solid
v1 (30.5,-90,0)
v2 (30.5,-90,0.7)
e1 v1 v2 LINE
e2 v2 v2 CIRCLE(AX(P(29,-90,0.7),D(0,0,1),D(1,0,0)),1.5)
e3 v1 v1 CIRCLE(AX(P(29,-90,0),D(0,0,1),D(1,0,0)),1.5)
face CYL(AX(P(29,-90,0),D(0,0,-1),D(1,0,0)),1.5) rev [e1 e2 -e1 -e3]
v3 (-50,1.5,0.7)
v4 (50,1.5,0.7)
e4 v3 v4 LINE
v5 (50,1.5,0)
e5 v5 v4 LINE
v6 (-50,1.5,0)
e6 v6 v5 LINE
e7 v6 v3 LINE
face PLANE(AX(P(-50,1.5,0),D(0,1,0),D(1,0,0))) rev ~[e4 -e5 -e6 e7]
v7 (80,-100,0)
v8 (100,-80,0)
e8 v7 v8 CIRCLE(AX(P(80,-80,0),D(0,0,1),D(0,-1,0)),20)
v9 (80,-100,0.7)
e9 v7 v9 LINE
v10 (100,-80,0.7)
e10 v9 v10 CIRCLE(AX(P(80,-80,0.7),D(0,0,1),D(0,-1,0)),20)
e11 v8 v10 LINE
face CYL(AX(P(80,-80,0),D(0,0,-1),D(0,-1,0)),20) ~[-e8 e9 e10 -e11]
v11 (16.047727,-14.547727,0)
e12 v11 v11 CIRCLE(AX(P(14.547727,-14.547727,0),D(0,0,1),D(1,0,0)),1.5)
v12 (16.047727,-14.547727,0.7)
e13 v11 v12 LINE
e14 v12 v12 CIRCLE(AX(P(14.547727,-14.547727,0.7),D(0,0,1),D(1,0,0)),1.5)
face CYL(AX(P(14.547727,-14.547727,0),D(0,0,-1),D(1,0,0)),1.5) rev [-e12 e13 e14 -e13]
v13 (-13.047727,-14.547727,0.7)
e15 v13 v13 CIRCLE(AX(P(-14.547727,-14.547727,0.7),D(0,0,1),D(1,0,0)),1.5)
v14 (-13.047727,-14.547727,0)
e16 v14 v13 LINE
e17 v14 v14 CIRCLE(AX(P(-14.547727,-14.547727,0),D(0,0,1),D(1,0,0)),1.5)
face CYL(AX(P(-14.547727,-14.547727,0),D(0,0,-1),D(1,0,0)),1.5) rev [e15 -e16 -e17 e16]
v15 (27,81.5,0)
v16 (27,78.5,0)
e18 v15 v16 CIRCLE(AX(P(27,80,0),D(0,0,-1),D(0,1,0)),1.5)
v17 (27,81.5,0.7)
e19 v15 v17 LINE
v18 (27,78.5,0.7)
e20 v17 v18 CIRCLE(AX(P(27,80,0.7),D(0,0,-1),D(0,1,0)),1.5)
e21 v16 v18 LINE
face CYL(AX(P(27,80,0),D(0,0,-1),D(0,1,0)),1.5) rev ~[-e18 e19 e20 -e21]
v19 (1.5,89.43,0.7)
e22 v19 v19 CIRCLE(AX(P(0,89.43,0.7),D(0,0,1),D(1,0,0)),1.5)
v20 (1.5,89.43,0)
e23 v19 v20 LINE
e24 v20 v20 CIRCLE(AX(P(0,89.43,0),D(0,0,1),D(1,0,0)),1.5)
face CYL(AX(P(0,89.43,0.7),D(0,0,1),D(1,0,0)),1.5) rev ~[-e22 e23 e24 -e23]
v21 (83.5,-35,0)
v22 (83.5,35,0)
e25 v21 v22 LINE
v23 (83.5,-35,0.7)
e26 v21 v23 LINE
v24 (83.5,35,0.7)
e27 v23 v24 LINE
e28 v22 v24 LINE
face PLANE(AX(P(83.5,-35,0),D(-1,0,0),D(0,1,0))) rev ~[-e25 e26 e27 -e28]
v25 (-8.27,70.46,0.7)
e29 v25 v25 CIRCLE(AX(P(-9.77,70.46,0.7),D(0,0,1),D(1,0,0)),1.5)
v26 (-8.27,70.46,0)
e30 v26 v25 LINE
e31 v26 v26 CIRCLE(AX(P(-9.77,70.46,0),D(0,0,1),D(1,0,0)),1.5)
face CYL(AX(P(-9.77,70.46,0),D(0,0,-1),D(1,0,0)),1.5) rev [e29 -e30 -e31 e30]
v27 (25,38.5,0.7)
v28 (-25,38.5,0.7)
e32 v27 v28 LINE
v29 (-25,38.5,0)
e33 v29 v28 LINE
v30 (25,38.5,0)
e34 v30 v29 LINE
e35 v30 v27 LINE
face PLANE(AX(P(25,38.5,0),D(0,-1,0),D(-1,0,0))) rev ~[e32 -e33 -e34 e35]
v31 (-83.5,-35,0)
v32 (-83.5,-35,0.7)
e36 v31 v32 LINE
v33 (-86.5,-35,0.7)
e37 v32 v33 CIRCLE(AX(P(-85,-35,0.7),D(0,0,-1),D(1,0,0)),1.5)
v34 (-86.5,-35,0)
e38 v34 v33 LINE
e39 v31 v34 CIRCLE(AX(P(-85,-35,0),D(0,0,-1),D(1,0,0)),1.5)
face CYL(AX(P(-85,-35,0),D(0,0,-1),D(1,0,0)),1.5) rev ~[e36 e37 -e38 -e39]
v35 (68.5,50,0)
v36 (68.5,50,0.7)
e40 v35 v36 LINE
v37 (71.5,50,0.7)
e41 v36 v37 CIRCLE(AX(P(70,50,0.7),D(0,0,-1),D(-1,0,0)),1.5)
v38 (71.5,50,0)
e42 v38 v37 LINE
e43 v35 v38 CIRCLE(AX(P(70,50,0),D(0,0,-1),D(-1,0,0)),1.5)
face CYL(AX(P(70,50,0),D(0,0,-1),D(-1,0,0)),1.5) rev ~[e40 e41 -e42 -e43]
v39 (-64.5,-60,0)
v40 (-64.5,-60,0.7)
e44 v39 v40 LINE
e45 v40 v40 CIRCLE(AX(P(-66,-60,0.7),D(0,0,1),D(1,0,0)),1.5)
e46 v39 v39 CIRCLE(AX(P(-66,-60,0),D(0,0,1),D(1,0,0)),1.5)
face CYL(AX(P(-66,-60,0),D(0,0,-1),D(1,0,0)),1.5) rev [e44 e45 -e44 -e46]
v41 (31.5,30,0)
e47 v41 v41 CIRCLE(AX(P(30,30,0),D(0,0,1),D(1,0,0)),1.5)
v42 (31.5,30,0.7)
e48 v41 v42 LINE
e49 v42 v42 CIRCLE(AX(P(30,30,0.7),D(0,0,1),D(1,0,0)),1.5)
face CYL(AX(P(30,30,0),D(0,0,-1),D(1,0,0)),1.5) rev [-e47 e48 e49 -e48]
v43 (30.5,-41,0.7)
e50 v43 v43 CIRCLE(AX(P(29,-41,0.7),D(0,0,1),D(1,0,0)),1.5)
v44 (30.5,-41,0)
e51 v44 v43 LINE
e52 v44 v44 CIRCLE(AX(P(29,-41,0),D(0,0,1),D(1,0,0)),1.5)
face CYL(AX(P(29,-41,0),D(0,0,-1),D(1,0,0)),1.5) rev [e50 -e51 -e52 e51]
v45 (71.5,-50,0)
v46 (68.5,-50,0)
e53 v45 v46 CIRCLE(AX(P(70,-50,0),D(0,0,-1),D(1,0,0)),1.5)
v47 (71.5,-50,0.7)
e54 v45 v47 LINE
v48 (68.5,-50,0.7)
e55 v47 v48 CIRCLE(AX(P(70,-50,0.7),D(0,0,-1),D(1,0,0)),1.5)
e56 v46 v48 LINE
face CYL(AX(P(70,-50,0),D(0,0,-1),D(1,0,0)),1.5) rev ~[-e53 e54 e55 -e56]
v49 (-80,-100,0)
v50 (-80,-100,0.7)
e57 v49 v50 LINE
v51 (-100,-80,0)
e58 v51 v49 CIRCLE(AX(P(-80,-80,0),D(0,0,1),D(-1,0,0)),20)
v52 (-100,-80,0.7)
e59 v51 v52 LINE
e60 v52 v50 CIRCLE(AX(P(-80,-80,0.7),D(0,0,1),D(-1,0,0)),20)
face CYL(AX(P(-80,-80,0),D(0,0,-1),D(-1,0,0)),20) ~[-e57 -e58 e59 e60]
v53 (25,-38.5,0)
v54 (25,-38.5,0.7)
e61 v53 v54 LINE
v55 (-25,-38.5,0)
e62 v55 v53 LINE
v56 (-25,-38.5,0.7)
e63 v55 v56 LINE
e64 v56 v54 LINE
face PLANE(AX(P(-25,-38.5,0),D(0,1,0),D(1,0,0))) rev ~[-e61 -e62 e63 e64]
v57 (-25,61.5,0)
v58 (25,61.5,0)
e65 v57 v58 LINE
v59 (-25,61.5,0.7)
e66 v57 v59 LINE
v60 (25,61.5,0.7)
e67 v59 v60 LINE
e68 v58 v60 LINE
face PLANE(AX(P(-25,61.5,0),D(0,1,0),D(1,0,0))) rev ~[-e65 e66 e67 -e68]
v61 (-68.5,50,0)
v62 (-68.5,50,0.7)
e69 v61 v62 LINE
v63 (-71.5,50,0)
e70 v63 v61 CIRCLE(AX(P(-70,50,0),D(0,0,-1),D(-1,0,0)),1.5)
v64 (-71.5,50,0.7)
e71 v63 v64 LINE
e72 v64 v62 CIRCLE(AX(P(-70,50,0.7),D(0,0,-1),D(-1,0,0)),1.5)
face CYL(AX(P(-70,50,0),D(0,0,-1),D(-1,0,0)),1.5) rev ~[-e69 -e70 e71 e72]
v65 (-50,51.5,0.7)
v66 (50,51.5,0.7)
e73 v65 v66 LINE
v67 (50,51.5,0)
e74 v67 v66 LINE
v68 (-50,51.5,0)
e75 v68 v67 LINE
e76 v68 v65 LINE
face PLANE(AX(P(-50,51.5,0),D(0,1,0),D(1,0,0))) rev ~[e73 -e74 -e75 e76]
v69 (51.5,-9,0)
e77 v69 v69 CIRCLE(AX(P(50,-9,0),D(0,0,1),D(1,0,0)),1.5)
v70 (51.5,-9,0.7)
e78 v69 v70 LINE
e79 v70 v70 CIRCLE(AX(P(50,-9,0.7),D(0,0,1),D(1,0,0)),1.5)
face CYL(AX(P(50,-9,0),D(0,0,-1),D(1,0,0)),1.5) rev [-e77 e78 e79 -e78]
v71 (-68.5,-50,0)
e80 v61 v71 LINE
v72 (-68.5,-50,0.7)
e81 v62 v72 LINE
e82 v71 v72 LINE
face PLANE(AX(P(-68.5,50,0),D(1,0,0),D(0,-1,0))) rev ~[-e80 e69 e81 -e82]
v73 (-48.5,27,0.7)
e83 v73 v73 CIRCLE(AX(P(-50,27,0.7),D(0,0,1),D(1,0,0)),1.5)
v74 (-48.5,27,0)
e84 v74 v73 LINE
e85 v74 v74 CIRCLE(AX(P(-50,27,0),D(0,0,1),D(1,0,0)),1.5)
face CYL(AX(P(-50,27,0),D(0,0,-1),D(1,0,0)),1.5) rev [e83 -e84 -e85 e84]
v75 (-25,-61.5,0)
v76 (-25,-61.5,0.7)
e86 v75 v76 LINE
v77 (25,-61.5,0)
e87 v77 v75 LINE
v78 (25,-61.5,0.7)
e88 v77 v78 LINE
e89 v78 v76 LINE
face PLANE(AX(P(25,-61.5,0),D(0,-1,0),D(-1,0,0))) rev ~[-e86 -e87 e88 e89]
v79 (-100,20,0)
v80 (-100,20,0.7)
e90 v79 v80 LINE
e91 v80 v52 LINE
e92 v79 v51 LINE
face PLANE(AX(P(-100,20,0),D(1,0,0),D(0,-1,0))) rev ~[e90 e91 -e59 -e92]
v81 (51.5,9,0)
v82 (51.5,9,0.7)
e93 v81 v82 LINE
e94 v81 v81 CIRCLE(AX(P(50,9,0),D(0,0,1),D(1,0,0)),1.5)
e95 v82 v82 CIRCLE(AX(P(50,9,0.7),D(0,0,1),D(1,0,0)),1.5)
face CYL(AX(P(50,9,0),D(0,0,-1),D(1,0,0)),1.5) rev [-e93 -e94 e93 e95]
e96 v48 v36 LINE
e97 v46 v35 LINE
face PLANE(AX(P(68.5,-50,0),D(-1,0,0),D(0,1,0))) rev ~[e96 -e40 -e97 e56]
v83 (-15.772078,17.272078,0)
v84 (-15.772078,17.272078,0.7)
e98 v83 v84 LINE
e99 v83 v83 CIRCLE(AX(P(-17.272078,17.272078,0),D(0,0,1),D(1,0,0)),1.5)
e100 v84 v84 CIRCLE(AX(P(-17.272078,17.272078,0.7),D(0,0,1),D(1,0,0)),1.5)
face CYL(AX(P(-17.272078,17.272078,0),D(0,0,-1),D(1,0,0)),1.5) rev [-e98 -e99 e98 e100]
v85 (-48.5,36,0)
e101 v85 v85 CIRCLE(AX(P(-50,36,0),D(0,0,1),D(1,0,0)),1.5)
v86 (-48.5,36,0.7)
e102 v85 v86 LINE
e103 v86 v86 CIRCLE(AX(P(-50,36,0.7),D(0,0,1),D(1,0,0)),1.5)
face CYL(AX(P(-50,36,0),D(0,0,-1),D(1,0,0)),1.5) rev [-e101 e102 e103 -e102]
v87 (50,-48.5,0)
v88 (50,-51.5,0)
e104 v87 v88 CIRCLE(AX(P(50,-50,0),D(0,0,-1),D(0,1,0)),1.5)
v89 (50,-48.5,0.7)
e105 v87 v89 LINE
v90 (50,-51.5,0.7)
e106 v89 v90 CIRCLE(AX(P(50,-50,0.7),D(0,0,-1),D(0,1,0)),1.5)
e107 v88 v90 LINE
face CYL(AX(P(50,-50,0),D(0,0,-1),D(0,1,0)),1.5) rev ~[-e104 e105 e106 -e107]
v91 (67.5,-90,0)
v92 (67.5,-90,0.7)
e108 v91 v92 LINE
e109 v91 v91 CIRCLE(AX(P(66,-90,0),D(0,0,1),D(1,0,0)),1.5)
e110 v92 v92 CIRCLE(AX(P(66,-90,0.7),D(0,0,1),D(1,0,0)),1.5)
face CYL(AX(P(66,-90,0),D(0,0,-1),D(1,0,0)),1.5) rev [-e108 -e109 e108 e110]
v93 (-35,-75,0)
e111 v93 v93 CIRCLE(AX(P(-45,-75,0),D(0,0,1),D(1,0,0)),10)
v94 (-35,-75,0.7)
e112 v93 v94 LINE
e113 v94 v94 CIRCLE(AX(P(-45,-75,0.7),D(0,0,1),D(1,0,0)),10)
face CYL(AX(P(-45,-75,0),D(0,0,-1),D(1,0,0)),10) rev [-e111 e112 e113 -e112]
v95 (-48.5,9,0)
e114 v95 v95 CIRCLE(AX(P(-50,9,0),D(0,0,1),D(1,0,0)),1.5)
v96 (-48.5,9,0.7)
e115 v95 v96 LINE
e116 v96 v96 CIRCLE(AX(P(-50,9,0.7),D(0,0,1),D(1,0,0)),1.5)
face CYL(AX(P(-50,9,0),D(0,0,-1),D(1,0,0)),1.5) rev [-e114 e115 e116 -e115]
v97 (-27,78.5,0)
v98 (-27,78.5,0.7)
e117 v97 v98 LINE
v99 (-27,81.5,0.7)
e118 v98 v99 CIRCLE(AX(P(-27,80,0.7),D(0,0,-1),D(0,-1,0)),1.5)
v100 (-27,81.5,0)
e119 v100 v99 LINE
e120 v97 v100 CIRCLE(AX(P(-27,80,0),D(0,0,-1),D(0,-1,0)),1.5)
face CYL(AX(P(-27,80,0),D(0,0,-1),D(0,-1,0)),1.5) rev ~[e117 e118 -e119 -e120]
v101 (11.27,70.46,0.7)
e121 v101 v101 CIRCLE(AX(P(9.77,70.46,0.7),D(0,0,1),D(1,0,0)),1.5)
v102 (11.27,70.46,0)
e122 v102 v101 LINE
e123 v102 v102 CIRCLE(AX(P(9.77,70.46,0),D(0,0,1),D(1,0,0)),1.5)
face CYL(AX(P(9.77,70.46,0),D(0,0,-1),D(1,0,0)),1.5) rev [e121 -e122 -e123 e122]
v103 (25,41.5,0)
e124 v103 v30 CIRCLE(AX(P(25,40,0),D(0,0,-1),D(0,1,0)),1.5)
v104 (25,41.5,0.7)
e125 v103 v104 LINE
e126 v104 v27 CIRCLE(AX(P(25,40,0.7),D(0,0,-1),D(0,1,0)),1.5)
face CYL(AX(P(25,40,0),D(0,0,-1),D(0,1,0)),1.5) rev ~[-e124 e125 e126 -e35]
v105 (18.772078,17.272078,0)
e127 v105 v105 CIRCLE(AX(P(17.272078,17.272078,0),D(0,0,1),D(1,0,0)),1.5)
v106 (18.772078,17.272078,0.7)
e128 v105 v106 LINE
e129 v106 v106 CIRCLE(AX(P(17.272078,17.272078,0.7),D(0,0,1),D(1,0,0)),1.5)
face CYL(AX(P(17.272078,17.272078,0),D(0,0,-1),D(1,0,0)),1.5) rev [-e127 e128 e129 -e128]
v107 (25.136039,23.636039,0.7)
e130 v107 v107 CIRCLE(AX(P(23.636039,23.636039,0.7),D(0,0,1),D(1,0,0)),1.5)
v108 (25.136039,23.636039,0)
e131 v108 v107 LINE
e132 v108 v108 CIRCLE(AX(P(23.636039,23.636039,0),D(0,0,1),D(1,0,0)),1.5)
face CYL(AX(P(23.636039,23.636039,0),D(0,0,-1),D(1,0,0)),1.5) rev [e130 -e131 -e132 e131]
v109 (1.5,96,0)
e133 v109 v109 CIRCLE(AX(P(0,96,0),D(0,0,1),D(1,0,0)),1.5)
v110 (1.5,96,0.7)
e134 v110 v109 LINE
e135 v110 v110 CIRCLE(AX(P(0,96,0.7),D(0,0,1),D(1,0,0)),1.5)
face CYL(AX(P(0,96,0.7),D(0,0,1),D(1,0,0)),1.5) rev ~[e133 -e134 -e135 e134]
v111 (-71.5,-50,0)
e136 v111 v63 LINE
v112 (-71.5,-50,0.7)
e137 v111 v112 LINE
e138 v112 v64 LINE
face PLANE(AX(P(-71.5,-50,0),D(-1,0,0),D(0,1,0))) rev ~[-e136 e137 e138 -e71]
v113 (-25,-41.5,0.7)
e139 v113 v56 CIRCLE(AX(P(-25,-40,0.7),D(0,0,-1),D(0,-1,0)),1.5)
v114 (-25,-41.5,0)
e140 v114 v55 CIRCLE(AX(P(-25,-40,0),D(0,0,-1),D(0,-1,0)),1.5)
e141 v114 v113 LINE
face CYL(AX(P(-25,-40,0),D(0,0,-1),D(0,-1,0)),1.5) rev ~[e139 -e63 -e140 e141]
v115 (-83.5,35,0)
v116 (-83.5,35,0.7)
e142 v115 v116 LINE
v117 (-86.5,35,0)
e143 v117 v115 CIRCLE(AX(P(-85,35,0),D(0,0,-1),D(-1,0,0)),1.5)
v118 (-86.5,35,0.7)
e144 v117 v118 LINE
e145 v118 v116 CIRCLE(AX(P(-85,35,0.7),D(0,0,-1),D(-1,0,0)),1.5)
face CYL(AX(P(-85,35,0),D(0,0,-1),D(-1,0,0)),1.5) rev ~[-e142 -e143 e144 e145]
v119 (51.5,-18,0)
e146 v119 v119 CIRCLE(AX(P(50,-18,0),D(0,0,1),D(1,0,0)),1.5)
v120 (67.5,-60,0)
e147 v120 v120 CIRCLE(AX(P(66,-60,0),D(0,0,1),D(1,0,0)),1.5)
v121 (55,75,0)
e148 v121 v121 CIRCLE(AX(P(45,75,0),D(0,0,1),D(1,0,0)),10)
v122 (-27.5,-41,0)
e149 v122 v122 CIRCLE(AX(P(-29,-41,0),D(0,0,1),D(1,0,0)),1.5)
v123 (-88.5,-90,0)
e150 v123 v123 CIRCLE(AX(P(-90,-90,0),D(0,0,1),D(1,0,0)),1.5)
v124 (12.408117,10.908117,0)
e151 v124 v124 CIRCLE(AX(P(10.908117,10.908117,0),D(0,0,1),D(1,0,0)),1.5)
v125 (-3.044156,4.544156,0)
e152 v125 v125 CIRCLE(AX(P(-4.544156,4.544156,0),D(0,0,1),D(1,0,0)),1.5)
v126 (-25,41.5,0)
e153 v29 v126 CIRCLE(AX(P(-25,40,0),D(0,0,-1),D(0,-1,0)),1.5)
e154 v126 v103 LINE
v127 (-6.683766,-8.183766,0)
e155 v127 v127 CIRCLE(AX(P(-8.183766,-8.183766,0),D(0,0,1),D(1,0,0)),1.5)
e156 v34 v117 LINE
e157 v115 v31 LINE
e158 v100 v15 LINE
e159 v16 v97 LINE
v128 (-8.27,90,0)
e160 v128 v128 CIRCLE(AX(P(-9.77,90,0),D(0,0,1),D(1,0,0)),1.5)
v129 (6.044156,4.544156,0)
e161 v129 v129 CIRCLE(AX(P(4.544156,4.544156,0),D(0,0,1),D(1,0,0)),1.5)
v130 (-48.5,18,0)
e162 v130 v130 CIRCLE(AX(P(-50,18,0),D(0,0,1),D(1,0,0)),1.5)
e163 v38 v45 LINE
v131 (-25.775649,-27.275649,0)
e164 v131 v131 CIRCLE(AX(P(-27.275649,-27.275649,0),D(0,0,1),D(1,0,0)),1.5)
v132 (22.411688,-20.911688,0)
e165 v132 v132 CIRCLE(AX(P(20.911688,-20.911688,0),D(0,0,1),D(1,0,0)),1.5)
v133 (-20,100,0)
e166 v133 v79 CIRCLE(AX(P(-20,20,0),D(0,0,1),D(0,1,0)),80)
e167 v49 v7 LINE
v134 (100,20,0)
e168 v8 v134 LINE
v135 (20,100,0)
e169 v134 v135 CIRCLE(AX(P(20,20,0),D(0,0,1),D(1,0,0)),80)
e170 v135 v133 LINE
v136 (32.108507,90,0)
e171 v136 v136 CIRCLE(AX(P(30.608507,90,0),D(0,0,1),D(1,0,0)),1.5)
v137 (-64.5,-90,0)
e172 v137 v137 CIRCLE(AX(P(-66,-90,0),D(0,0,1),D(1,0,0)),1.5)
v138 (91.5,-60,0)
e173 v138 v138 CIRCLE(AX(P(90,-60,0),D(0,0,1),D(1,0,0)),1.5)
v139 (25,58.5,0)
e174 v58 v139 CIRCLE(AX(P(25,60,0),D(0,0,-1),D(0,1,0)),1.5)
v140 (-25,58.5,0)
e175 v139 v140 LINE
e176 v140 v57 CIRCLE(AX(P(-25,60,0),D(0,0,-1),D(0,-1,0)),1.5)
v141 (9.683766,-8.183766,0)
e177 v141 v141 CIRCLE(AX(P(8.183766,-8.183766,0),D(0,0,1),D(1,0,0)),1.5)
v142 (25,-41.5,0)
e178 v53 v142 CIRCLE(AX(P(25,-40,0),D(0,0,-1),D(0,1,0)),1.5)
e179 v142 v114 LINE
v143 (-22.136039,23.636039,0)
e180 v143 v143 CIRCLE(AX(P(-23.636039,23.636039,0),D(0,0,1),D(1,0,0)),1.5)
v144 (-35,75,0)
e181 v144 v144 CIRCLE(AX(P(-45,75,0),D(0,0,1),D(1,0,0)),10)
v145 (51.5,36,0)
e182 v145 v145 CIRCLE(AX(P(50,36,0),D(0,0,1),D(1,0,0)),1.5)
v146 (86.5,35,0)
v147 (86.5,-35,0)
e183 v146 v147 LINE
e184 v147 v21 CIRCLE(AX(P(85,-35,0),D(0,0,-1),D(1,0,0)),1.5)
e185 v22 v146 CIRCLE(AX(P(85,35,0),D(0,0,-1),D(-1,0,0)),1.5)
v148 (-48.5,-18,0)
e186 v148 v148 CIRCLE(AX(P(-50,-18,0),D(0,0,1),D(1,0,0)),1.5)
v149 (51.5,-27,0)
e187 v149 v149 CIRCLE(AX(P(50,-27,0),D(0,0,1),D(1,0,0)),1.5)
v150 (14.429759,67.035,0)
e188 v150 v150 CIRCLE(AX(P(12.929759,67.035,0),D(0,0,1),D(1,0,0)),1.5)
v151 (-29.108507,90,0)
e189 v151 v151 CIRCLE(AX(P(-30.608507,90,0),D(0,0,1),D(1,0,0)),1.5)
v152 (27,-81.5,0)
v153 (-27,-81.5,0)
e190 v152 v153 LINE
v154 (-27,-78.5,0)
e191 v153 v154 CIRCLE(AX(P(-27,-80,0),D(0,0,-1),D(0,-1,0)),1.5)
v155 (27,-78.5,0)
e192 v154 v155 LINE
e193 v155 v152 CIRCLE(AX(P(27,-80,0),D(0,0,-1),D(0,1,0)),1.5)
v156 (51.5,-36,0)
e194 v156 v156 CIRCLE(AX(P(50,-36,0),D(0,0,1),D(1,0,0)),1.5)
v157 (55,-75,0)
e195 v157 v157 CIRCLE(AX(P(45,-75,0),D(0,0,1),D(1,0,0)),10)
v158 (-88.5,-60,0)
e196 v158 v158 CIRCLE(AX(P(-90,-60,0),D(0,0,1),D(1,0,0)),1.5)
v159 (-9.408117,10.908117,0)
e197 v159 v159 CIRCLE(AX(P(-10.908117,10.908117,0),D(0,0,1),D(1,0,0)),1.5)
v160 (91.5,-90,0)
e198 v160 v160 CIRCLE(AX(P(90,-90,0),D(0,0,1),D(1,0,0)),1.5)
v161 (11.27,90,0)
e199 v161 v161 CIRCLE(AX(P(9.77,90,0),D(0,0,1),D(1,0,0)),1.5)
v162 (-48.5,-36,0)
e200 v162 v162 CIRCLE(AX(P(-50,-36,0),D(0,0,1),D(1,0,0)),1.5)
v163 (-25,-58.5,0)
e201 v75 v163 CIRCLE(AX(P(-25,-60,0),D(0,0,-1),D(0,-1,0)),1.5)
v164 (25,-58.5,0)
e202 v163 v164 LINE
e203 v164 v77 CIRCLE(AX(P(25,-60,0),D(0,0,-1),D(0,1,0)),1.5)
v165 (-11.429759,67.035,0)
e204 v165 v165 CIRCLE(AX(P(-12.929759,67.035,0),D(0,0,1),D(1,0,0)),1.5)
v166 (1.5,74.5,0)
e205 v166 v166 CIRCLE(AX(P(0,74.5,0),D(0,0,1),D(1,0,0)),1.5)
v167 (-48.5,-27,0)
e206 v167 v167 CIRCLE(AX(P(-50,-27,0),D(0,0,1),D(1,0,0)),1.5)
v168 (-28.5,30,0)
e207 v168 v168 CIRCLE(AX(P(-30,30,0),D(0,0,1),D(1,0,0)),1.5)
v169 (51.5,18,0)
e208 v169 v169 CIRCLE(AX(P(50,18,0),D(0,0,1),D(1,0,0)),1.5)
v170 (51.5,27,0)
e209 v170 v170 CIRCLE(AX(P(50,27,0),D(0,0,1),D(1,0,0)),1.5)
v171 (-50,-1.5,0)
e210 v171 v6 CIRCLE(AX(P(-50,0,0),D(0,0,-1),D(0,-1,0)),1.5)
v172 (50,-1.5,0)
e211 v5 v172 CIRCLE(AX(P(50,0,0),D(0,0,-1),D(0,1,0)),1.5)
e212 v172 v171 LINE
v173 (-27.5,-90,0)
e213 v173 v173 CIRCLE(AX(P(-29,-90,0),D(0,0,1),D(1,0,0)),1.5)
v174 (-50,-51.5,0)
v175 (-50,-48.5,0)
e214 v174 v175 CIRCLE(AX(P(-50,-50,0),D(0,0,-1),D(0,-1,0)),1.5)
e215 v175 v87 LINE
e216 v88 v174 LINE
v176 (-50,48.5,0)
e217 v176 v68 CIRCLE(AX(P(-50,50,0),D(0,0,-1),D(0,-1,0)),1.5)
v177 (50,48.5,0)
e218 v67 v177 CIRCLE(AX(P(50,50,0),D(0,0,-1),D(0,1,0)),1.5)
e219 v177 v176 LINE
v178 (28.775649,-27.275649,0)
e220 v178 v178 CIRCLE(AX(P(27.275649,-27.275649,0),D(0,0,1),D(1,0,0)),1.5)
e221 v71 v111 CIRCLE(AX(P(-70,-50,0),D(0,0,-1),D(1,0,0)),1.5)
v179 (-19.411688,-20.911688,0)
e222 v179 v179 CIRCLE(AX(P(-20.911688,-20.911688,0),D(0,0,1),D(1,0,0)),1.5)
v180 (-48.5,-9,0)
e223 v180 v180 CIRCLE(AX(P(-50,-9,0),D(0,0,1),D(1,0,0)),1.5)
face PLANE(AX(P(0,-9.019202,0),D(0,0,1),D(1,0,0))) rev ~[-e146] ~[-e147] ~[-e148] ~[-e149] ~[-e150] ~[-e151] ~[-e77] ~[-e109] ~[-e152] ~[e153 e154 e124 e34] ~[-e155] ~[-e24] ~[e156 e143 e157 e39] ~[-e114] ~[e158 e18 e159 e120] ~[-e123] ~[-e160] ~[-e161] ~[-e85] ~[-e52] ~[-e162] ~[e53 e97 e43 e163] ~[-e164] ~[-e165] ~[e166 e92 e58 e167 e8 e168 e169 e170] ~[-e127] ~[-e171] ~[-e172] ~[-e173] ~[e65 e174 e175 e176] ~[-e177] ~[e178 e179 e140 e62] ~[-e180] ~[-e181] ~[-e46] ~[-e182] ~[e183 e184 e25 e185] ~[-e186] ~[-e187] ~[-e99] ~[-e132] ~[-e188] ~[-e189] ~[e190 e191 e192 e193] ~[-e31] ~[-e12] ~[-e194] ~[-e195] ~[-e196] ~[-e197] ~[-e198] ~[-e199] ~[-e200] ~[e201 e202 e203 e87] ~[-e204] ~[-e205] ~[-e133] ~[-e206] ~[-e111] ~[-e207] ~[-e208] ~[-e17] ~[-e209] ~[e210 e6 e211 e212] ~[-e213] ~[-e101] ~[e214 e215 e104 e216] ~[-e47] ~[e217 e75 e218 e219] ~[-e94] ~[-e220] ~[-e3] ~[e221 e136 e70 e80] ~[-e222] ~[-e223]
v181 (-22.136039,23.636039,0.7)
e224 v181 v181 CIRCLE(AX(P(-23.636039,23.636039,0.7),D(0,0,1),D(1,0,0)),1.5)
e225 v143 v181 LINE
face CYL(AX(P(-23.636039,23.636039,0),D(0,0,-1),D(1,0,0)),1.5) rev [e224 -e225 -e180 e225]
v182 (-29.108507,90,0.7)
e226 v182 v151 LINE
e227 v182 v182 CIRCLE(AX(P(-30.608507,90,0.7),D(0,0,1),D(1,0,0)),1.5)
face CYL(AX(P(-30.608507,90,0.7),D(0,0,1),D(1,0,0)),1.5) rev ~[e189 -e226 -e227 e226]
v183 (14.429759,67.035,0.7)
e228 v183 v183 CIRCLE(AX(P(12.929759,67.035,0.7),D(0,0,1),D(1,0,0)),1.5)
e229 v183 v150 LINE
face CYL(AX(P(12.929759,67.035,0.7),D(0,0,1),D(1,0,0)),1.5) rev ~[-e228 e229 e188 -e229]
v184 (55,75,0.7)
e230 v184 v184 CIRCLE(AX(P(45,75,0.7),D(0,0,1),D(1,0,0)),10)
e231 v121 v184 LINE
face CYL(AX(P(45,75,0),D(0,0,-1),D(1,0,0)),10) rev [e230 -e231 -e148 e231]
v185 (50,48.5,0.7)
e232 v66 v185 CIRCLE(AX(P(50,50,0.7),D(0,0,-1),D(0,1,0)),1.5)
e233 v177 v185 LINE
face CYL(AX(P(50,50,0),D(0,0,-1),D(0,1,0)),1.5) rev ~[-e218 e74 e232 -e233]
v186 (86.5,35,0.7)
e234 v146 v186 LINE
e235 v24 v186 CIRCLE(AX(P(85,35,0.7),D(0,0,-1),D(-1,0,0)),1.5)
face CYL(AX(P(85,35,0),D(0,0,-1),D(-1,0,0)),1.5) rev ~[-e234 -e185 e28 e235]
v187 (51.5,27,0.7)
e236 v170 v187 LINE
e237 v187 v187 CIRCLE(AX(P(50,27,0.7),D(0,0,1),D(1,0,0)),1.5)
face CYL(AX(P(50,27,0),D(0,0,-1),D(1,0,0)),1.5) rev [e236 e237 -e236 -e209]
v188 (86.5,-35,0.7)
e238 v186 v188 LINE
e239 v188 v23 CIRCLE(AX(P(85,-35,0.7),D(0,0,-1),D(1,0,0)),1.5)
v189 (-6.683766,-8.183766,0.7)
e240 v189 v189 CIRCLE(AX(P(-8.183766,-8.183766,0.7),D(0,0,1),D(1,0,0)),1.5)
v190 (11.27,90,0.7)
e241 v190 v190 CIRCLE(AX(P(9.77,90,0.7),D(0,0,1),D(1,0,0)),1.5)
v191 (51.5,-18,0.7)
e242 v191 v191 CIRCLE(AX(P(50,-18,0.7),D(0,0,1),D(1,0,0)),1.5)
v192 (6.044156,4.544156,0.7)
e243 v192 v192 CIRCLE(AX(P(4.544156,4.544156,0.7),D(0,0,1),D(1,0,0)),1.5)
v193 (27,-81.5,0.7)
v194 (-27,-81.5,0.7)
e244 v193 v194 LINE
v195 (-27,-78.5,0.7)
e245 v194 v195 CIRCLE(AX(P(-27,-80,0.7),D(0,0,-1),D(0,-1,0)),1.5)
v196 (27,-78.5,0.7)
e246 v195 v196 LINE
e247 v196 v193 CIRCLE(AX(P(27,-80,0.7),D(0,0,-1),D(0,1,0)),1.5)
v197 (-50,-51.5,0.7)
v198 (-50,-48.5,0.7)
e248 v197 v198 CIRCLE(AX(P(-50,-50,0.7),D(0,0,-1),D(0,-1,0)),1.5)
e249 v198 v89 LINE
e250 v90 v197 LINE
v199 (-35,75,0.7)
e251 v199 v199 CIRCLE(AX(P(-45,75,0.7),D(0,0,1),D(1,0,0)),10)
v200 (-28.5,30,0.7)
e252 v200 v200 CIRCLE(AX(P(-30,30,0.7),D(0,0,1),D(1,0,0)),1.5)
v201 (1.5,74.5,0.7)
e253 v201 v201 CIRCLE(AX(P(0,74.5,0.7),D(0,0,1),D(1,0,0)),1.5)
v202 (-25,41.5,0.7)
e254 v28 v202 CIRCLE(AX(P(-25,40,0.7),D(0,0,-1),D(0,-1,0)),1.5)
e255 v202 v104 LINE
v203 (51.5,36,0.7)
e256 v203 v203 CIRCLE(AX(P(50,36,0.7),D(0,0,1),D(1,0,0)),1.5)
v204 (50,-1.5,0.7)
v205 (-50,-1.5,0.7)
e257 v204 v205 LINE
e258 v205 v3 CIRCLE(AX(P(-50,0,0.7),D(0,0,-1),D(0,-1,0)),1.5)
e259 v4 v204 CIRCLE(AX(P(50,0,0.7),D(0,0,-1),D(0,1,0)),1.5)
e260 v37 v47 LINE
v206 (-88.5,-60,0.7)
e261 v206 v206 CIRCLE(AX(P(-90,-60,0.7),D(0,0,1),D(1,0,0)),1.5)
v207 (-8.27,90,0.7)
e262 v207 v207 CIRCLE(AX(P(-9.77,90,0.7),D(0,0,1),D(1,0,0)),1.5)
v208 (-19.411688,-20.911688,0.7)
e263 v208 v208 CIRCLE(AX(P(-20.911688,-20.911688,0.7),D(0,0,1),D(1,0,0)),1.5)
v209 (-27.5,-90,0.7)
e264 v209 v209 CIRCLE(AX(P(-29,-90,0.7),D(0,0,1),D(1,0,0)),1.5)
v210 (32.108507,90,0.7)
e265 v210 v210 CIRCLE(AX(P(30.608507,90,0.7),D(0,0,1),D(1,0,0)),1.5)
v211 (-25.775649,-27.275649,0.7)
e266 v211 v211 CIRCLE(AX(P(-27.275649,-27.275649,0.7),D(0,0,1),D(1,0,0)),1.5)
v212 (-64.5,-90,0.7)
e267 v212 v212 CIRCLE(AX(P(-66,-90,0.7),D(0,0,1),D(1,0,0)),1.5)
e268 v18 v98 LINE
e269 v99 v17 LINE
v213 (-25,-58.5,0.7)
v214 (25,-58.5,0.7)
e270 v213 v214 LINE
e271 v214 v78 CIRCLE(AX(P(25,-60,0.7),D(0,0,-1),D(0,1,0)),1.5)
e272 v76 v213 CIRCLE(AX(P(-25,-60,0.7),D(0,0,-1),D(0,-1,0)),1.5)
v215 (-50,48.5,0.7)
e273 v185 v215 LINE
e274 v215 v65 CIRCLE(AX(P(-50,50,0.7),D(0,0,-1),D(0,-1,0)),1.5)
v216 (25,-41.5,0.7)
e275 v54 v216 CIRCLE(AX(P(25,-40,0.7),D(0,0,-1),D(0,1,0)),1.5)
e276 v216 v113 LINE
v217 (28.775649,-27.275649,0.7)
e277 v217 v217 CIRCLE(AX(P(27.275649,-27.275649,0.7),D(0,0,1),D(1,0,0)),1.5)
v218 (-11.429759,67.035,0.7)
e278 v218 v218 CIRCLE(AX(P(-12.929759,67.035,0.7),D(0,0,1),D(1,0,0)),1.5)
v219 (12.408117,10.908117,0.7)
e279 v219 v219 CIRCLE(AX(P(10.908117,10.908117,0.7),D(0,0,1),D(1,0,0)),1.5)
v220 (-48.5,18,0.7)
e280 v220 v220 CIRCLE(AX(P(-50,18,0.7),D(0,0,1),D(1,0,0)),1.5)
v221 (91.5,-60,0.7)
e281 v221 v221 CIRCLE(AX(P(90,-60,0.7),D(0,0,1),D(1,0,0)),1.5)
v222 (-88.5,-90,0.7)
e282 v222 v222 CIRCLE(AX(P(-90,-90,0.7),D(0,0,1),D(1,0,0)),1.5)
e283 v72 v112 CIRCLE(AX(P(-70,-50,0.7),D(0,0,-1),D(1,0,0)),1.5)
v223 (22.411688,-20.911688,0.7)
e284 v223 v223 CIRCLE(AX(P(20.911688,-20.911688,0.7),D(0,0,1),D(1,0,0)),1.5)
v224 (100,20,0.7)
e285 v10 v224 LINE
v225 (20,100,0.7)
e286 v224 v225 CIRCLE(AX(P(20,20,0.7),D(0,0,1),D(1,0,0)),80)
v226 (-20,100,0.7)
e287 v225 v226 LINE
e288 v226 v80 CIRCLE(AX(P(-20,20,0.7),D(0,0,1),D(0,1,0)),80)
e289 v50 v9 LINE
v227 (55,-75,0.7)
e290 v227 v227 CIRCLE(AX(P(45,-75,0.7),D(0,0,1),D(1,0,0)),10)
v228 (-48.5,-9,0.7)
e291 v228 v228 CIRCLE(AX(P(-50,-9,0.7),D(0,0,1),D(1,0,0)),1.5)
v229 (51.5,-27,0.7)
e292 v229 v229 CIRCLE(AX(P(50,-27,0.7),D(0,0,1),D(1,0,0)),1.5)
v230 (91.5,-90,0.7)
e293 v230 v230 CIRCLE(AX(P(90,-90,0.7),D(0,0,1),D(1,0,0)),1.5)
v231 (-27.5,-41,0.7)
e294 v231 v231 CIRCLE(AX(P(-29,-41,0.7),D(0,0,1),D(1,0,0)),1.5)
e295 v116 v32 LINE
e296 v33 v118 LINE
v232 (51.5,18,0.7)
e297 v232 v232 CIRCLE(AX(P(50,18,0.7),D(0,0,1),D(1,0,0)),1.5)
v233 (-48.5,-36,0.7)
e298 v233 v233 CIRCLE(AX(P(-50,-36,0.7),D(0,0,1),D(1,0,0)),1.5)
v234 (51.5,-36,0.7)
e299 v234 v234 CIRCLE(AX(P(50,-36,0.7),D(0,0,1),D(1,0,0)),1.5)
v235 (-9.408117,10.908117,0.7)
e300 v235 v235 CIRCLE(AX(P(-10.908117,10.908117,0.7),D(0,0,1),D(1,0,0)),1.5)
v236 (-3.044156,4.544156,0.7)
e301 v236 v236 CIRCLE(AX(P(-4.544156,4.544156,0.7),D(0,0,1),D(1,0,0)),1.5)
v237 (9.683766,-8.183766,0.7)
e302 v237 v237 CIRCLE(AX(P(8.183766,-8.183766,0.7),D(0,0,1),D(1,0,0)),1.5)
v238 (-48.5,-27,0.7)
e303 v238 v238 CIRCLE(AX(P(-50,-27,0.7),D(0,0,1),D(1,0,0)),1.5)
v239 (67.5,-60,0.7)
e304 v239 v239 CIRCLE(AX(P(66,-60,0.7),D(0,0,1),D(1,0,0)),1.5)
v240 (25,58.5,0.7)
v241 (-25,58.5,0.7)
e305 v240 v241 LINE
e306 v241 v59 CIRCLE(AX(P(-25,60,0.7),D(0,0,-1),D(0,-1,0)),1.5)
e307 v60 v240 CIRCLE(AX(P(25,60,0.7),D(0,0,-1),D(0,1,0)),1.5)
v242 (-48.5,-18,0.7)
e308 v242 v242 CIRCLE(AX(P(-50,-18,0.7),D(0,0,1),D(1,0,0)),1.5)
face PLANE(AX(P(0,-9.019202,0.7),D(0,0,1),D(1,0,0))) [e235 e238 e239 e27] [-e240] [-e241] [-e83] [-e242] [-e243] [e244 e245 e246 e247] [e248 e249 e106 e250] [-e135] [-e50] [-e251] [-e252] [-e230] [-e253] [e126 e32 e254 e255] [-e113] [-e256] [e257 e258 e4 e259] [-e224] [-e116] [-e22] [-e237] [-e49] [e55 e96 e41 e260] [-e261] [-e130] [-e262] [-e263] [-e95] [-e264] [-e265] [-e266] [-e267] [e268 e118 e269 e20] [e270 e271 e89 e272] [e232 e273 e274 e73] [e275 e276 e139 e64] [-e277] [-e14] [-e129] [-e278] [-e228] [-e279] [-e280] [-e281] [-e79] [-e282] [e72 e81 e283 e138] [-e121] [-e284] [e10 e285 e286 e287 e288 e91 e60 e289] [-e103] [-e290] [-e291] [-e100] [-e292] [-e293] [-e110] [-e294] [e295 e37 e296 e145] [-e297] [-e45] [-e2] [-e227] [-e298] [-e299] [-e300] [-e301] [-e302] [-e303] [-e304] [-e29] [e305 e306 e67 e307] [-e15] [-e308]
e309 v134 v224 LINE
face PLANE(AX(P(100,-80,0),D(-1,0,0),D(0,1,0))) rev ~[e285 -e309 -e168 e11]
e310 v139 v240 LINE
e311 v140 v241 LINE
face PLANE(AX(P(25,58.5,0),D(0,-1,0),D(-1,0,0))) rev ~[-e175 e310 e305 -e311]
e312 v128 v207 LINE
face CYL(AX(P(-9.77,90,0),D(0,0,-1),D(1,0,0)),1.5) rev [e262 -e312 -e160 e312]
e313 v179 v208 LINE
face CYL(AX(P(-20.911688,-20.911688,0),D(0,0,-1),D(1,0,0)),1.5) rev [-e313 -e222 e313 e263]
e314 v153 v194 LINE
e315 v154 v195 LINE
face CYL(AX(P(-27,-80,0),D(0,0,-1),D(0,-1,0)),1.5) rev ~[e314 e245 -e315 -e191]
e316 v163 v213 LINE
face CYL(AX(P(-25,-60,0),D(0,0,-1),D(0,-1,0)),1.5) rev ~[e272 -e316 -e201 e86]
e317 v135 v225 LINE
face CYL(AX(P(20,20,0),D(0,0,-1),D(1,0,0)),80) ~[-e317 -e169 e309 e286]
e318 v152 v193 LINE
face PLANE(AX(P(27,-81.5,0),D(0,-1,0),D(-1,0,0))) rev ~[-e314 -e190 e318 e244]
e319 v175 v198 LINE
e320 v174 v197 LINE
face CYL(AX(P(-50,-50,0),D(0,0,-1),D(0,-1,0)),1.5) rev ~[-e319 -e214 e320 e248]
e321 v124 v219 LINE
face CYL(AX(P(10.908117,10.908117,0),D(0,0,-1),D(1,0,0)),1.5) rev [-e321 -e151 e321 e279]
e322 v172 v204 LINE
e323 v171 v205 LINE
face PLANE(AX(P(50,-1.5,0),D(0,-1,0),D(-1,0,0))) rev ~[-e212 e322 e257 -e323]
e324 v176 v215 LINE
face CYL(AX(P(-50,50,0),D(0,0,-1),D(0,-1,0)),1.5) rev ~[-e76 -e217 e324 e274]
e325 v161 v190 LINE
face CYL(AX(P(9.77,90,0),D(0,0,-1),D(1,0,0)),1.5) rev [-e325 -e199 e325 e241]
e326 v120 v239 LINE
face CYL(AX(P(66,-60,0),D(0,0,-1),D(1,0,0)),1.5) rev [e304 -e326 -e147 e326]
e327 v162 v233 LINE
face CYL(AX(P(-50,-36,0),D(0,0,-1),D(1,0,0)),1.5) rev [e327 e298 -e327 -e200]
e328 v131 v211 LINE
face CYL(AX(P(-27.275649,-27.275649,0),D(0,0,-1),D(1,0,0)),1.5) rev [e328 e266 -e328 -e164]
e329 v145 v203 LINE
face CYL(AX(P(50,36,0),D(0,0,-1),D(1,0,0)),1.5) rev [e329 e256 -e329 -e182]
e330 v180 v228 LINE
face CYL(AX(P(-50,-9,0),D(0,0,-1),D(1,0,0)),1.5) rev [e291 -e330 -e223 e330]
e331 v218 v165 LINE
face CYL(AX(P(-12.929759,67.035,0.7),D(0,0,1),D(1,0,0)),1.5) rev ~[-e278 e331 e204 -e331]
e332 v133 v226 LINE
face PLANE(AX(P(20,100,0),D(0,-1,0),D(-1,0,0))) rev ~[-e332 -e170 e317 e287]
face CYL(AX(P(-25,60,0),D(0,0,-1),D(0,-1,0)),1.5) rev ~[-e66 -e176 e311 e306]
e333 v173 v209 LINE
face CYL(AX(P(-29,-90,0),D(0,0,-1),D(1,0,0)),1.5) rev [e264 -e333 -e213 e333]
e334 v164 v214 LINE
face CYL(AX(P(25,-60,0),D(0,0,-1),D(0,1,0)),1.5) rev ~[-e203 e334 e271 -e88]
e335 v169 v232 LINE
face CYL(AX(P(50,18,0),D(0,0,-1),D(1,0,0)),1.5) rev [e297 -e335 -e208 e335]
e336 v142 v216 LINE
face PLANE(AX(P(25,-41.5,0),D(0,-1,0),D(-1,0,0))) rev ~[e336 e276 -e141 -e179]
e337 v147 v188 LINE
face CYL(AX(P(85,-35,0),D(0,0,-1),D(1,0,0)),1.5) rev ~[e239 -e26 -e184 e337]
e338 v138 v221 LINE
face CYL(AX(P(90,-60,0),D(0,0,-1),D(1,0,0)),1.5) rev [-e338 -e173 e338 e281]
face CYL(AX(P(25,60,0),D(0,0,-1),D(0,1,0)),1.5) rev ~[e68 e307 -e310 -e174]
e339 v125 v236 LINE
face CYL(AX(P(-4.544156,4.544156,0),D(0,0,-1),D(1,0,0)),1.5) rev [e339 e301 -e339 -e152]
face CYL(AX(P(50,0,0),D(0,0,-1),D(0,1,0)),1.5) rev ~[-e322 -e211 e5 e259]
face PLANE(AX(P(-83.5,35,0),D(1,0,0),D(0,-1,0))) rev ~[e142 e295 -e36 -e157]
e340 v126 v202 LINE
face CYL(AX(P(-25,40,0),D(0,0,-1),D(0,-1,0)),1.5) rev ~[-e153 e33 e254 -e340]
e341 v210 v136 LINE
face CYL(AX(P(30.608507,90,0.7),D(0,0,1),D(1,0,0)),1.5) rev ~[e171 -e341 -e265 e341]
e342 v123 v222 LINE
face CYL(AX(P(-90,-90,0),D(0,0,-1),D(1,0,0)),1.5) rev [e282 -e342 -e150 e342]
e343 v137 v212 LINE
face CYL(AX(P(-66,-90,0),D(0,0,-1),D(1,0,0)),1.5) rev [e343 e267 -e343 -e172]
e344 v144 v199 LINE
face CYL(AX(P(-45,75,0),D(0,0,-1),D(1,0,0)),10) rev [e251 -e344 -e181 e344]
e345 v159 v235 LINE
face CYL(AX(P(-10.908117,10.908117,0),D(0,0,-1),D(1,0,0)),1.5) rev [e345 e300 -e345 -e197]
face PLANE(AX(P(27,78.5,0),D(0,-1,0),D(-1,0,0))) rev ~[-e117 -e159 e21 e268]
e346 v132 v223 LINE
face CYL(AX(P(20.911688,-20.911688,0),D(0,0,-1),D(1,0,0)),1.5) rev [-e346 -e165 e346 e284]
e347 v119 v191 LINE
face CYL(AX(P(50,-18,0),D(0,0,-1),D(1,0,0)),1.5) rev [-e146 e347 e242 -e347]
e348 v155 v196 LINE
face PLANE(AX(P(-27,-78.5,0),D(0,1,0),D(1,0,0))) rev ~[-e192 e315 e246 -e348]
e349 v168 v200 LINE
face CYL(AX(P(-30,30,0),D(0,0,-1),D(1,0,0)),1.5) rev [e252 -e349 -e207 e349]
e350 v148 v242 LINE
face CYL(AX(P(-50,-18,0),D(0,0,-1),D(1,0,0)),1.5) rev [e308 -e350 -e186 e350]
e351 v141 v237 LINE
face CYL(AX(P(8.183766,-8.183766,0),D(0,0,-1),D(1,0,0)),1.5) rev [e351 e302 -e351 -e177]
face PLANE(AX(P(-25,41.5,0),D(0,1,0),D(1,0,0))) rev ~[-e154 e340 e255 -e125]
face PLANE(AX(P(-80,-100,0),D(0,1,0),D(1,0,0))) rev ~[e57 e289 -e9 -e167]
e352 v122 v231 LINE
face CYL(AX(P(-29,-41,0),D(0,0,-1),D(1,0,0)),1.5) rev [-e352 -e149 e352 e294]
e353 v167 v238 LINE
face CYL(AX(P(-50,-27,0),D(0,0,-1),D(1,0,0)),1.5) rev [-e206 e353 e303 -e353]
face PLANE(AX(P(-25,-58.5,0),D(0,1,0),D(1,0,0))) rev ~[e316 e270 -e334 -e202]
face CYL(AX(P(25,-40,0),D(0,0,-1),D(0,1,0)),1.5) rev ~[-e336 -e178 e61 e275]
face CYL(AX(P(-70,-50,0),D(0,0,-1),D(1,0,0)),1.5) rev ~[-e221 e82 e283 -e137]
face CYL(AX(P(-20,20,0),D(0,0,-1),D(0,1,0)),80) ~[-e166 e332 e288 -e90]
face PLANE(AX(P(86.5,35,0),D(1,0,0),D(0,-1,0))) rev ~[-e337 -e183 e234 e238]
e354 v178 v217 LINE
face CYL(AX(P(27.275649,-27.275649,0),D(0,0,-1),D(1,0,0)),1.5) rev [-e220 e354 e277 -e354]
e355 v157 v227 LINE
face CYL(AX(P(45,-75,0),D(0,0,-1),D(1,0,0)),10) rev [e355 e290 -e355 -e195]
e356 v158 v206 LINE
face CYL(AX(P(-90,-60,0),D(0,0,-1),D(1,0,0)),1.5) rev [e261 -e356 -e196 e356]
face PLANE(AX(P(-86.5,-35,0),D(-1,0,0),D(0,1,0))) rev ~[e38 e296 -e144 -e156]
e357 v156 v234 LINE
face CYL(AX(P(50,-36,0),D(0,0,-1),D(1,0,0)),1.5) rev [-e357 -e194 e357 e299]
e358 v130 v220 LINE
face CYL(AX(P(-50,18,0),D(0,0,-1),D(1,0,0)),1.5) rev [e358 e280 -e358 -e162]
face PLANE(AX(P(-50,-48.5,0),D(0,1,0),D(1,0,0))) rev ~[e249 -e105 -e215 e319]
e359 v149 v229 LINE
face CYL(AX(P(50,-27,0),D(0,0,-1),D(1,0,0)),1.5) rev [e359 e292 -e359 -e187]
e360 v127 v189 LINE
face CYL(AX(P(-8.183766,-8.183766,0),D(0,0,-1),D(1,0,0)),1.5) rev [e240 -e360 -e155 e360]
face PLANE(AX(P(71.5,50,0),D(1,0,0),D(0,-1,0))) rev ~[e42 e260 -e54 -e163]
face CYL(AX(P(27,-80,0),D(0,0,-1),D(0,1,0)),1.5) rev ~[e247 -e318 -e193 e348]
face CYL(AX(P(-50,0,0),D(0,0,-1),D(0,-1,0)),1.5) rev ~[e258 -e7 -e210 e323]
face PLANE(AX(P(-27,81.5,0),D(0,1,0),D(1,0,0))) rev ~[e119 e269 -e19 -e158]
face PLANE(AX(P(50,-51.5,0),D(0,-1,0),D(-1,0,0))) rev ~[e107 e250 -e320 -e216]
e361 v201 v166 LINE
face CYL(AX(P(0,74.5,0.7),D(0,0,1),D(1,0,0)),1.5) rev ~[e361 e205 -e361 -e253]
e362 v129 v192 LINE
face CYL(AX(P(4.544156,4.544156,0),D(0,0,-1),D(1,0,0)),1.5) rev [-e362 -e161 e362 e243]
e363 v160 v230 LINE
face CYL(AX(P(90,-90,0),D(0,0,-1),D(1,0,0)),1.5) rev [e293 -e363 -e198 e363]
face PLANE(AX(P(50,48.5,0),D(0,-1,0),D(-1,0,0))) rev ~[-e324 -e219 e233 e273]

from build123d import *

# Parameters (mm, degrees)
SKETCH_1_R          = 1.5
SKETCH_1_R_2        = 10
EXTRUDE_1_DEPTH     = 0.7
SKETCH_2_R          = 1.5
CUT_EXTRUDE_1_DEPTH = 40
SKETCH_4_R          = 1.5
CUT_EXTRUDE_2_DEPTH = 10


with BuildPart() as part:
    # 草图1 → 凸台-拉伸1 (new body)
    with BuildSketch(Plane.XY):
        with BuildLine():
            Line((20, 100), (-20, 100))
            ThreePointArc((-20, 100), (-76.568542495, 76.568542495), (-100, 20))
            Line((-100, 20), (-100, -80))
            ThreePointArc((-100, -80), (-94.142135624, -94.142135624), (-80, -100))
            Line((-80, -100), (80, -100))
            ThreePointArc((80, -100), (94.142135624, -94.142135624), (100, -80))
            Line((100, -80), (100, 20))
            ThreePointArc((100, 20), (76.568542495, 76.568542495), (20, 100))
        make_face()
        with Locations((-90, -90)):
            Circle(SKETCH_1_R, mode=Mode.SUBTRACT)
        with Locations((-66, -90)):
            Circle(SKETCH_1_R, mode=Mode.SUBTRACT)
        with Locations((-90, -60)):
            Circle(SKETCH_1_R, mode=Mode.SUBTRACT)
        with Locations((-66, -60)):
            Circle(SKETCH_1_R, mode=Mode.SUBTRACT)
        with Locations((-29, -90)):
            Circle(SKETCH_1_R, mode=Mode.SUBTRACT)
        with Locations((-45, -75)):
            Circle(SKETCH_1_R_2, mode=Mode.SUBTRACT)
        with Locations((-50, -36)):
            Circle(SKETCH_1_R, mode=Mode.SUBTRACT)
        with Locations((-50, -27)):
            Circle(SKETCH_1_R, mode=Mode.SUBTRACT)
        with BuildLine():
            ThreePointArc((-86.5, 35), (-85, 36.5), (-83.5, 35))
            Line((-83.5, 35), (-83.5, -35))
            ThreePointArc((-83.5, -35), (-85, -36.5), (-86.5, -35))
            Line((-86.5, -35), (-86.5, 35))
        make_face(mode=Mode.SUBTRACT)
        with Locations((-50, -18)):
            Circle(SKETCH_1_R, mode=Mode.SUBTRACT)
        with BuildLine():
            ThreePointArc((-68.5, -50), (-70, -51.5), (-71.5, -50))
            Line((-71.5, -50), (-71.5, 50))
            ThreePointArc((-71.5, 50), (-70, 51.5), (-68.5, 50))
            Line((-68.5, 50), (-68.5, -50))
        make_face(mode=Mode.SUBTRACT)
        with Locations((-50, -9)):
            Circle(SKETCH_1_R, mode=Mode.SUBTRACT)
        with Locations((-29, -41)):
            Circle(SKETCH_1_R, mode=Mode.SUBTRACT)
        with Locations((-27.275649276, -27.275649276)):
            Circle(SKETCH_1_R, mode=Mode.SUBTRACT)
        with Locations((-20.911688245, -20.911688245)):
            Circle(SKETCH_1_R, mode=Mode.SUBTRACT)
        with Locations((-14.547727215, -14.547727215)):
            Circle(SKETCH_1_R, mode=Mode.SUBTRACT)
        with Locations((-8.183766184, -8.183766184)):
            Circle(SKETCH_1_R, mode=Mode.SUBTRACT)
        with BuildLine():
            ThreePointArc((-27, -81.5), (-28.5, -80), (-27, -78.5))
            Line((-27, -78.5), (27, -78.5))
            ThreePointArc((27, -78.5), (28.5, -80), (27, -81.5))
            Line((27, -81.5), (-27, -81.5))
        make_face(mode=Mode.SUBTRACT)
        with Locations((29, -90)):
            Circle(SKETCH_1_R, mode=Mode.SUBTRACT)
        with Locations((45, -75)):
            Circle(SKETCH_1_R_2, mode=Mode.SUBTRACT)
        with BuildLine():
            Line((25, -61.5), (-25, -61.5))
            ThreePointArc((-25, -61.5), (-26.5, -60), (-25, -58.5))
            Line((-25, -58.5), (25, -58.5))
            ThreePointArc((25, -58.5), (26.5, -60), (25, -61.5))
        make_face(mode=Mode.SUBTRACT)
        with Locations((66, -90)):
            Circle(SKETCH_1_R, mode=Mode.SUBTRACT)
        with Locations((90, -90)):
            Circle(SKETCH_1_R, mode=Mode.SUBTRACT)
        with Locations((66, -60)):
            Circle(SKETCH_1_R, mode=Mode.SUBTRACT)
        with Locations((90, -60)):
            Circle(SKETCH_1_R, mode=Mode.SUBTRACT)
        with BuildLine():
            Line((50, -51.5), (-50, -51.5))
            ThreePointArc((-50, -51.5), (-51.5, -50), (-50, -48.5))
            Line((-50, -48.5), (50, -48.5))
            ThreePointArc((50, -48.5), (51.5, -50), (50, -51.5))
        make_face(mode=Mode.SUBTRACT)
        with BuildLine():
            Line((25, -41.5), (-25, -41.5))
            ThreePointArc((-25, -41.5), (-26.5, -40), (-25, -38.5))
            Line((-25, -38.5), (25, -38.5))
            ThreePointArc((25, -38.5), (26.5, -40), (25, -41.5))
        make_face(mode=Mode.SUBTRACT)
        with Locations((29, -41)):
            Circle(SKETCH_1_R, mode=Mode.SUBTRACT)
        with Locations((27.275649276, -27.275649276)):
            Circle(SKETCH_1_R, mode=Mode.SUBTRACT)
        with Locations((20.911688245, -20.911688245)):
            Circle(SKETCH_1_R, mode=Mode.SUBTRACT)
        with Locations((14.547727215, -14.547727215)):
            Circle(SKETCH_1_R, mode=Mode.SUBTRACT)
        with Locations((8.183766184, -8.183766184)):
            Circle(SKETCH_1_R, mode=Mode.SUBTRACT)
        with BuildLine():
            ThreePointArc((-50, -1.5), (-51.5, 0), (-50, 1.5))
            Line((-50, 1.5), (50, 1.5))
            ThreePointArc((50, 1.5), (51.5, 0), (50, -1.5))
            Line((50, -1.5), (-50, -1.5))
        make_face(mode=Mode.SUBTRACT)
        with Locations((50, -36)):
            Circle(SKETCH_1_R, mode=Mode.SUBTRACT)
        with Locations((50, -27)):
            Circle(SKETCH_1_R, mode=Mode.SUBTRACT)
        with Locations((50, -18)):
            Circle(SKETCH_1_R, mode=Mode.SUBTRACT)
        with Locations((50, -9)):
            Circle(SKETCH_1_R, mode=Mode.SUBTRACT)
        with Locations((-50, 9)):
            Circle(SKETCH_1_R, mode=Mode.SUBTRACT)
        with Locations((-50, 18)):
            Circle(SKETCH_1_R, mode=Mode.SUBTRACT)
        with Locations((-50, 27)):
            Circle(SKETCH_1_R, mode=Mode.SUBTRACT)
        with Locations((-50, 36)):
            Circle(SKETCH_1_R, mode=Mode.SUBTRACT)
        with Locations((-4.544155877, 4.544155877)):
            Circle(SKETCH_1_R, mode=Mode.SUBTRACT)
        with Locations((-10.908116908, 10.908116908)):
            Circle(SKETCH_1_R, mode=Mode.SUBTRACT)
        with Locations((-17.272077939, 17.272077939)):
            Circle(SKETCH_1_R, mode=Mode.SUBTRACT)
        with Locations((-23.636038969, 23.636038969)):
            Circle(SKETCH_1_R, mode=Mode.SUBTRACT)
        with Locations((-30, 30)):
            Circle(SKETCH_1_R, mode=Mode.SUBTRACT)
        with BuildLine():
            ThreePointArc((-50, 48.5), (-51.5, 50), (-50, 51.5))
            Line((-50, 51.5), (50, 51.5))
            ThreePointArc((50, 51.5), (51.5, 50), (50, 48.5))
            Line((50, 48.5), (-50, 48.5))
        make_face(mode=Mode.SUBTRACT)
        with Locations((-45, 75)):
            Circle(SKETCH_1_R_2, mode=Mode.SUBTRACT)
        with Locations((-9.77, 70.46)):
            Circle(SKETCH_1_R, mode=Mode.SUBTRACT)
        with Locations((-9.77, 90)):
            Circle(SKETCH_1_R, mode=Mode.SUBTRACT)
        with Locations((4.544155877, 4.544155877)):
            Circle(SKETCH_1_R, mode=Mode.SUBTRACT)
        with Locations((10.908116908, 10.908116908)):
            Circle(SKETCH_1_R, mode=Mode.SUBTRACT)
        with Locations((17.272077939, 17.272077939)):
            Circle(SKETCH_1_R, mode=Mode.SUBTRACT)
        with Locations((23.636038969, 23.636038969)):
            Circle(SKETCH_1_R, mode=Mode.SUBTRACT)
        with BuildLine():
            ThreePointArc((-25, 38.5), (-26.5, 40), (-25, 41.5))
            Line((-25, 41.5), (25, 41.5))
            ThreePointArc((25, 41.5), (26.5, 40), (25, 38.5))
            Line((25, 38.5), (-25, 38.5))
        make_face(mode=Mode.SUBTRACT)
        with Locations((30, 30)):
            Circle(SKETCH_1_R, mode=Mode.SUBTRACT)
        with Locations((50, 9)):
            Circle(SKETCH_1_R, mode=Mode.SUBTRACT)
        with BuildLine():
            Line((71.5, 50), (71.5, -50))
            ThreePointArc((71.5, -50), (70, -51.5), (68.5, -50))
            Line((68.5, -50), (68.5, 50))
            ThreePointArc((68.5, 50), (70, 51.5), (71.5, 50))
        make_face(mode=Mode.SUBTRACT)
        with Locations((50, 18)):
            Circle(SKETCH_1_R, mode=Mode.SUBTRACT)
        with BuildLine():
            Line((83.5, -35), (83.5, 35))
            ThreePointArc((83.5, 35), (85, 36.5), (86.5, 35))
            Line((86.5, 35), (86.5, -35))
            ThreePointArc((86.5, -35), (85, -36.5), (83.5, -35))
        make_face(mode=Mode.SUBTRACT)
        with Locations((50, 27)):
            Circle(SKETCH_1_R, mode=Mode.SUBTRACT)
        with Locations((50, 36)):
            Circle(SKETCH_1_R, mode=Mode.SUBTRACT)
        with BuildLine():
            ThreePointArc((-25, 58.5), (-26.5, 60), (-25, 61.5))
            Line((-25, 61.5), (25, 61.5))
            ThreePointArc((25, 61.5), (26.5, 60), (25, 58.5))
            Line((25, 58.5), (-25, 58.5))
        make_face(mode=Mode.SUBTRACT)
        with Locations((9.77, 70.46)):
            Circle(SKETCH_1_R, mode=Mode.SUBTRACT)
        with Locations((45, 75)):
            Circle(SKETCH_1_R_2, mode=Mode.SUBTRACT)
        with BuildLine():
            Line((27, 78.5), (-27, 78.5))
            ThreePointArc((-27, 78.5), (-28.5, 80), (-27, 81.5))
            Line((-27, 81.5), (27, 81.5))
            ThreePointArc((27, 81.5), (28.5, 80), (27, 78.5))
        make_face(mode=Mode.SUBTRACT)
        with Locations((9.77, 90)):
            Circle(SKETCH_1_R, mode=Mode.SUBTRACT)
    extrude(amount=EXTRUDE_1_DEPTH)

    # 草图2 → 切除-拉伸1 (cut)
    with BuildSketch(Plane.XY.offset(0.7)):
        with Locations((24973, 94.93)):
            Circle(SKETCH_2_R)
        with Locations((0, 89.43)):
            Circle(SKETCH_2_R)
        with Locations((12.929759279, 67.035)):
            Circle(SKETCH_2_R)
        with Locations((-12.929759279, 67.035)):
            Circle(SKETCH_2_R)
        with Locations((0, 74.5)):
            Circle(SKETCH_2_R)
    extrude(amount=-CUT_EXTRUDE_1_DEPTH, mode=Mode.SUBTRACT)

    # 草图4 → 切除-拉伸2 (cut)
    with BuildSketch(Plane.XY.offset(0.7)):
        with Locations((0, 96)):
            Circle(SKETCH_4_R)
        with Locations((-30.608507012, 90)):
            Circle(SKETCH_4_R)
        with Locations((30.608507012, 90)):
            Circle(SKETCH_4_R)
    extrude(amount=-CUT_EXTRUDE_2_DEPTH, mode=Mode.SUBTRACT)


solid = part.part
